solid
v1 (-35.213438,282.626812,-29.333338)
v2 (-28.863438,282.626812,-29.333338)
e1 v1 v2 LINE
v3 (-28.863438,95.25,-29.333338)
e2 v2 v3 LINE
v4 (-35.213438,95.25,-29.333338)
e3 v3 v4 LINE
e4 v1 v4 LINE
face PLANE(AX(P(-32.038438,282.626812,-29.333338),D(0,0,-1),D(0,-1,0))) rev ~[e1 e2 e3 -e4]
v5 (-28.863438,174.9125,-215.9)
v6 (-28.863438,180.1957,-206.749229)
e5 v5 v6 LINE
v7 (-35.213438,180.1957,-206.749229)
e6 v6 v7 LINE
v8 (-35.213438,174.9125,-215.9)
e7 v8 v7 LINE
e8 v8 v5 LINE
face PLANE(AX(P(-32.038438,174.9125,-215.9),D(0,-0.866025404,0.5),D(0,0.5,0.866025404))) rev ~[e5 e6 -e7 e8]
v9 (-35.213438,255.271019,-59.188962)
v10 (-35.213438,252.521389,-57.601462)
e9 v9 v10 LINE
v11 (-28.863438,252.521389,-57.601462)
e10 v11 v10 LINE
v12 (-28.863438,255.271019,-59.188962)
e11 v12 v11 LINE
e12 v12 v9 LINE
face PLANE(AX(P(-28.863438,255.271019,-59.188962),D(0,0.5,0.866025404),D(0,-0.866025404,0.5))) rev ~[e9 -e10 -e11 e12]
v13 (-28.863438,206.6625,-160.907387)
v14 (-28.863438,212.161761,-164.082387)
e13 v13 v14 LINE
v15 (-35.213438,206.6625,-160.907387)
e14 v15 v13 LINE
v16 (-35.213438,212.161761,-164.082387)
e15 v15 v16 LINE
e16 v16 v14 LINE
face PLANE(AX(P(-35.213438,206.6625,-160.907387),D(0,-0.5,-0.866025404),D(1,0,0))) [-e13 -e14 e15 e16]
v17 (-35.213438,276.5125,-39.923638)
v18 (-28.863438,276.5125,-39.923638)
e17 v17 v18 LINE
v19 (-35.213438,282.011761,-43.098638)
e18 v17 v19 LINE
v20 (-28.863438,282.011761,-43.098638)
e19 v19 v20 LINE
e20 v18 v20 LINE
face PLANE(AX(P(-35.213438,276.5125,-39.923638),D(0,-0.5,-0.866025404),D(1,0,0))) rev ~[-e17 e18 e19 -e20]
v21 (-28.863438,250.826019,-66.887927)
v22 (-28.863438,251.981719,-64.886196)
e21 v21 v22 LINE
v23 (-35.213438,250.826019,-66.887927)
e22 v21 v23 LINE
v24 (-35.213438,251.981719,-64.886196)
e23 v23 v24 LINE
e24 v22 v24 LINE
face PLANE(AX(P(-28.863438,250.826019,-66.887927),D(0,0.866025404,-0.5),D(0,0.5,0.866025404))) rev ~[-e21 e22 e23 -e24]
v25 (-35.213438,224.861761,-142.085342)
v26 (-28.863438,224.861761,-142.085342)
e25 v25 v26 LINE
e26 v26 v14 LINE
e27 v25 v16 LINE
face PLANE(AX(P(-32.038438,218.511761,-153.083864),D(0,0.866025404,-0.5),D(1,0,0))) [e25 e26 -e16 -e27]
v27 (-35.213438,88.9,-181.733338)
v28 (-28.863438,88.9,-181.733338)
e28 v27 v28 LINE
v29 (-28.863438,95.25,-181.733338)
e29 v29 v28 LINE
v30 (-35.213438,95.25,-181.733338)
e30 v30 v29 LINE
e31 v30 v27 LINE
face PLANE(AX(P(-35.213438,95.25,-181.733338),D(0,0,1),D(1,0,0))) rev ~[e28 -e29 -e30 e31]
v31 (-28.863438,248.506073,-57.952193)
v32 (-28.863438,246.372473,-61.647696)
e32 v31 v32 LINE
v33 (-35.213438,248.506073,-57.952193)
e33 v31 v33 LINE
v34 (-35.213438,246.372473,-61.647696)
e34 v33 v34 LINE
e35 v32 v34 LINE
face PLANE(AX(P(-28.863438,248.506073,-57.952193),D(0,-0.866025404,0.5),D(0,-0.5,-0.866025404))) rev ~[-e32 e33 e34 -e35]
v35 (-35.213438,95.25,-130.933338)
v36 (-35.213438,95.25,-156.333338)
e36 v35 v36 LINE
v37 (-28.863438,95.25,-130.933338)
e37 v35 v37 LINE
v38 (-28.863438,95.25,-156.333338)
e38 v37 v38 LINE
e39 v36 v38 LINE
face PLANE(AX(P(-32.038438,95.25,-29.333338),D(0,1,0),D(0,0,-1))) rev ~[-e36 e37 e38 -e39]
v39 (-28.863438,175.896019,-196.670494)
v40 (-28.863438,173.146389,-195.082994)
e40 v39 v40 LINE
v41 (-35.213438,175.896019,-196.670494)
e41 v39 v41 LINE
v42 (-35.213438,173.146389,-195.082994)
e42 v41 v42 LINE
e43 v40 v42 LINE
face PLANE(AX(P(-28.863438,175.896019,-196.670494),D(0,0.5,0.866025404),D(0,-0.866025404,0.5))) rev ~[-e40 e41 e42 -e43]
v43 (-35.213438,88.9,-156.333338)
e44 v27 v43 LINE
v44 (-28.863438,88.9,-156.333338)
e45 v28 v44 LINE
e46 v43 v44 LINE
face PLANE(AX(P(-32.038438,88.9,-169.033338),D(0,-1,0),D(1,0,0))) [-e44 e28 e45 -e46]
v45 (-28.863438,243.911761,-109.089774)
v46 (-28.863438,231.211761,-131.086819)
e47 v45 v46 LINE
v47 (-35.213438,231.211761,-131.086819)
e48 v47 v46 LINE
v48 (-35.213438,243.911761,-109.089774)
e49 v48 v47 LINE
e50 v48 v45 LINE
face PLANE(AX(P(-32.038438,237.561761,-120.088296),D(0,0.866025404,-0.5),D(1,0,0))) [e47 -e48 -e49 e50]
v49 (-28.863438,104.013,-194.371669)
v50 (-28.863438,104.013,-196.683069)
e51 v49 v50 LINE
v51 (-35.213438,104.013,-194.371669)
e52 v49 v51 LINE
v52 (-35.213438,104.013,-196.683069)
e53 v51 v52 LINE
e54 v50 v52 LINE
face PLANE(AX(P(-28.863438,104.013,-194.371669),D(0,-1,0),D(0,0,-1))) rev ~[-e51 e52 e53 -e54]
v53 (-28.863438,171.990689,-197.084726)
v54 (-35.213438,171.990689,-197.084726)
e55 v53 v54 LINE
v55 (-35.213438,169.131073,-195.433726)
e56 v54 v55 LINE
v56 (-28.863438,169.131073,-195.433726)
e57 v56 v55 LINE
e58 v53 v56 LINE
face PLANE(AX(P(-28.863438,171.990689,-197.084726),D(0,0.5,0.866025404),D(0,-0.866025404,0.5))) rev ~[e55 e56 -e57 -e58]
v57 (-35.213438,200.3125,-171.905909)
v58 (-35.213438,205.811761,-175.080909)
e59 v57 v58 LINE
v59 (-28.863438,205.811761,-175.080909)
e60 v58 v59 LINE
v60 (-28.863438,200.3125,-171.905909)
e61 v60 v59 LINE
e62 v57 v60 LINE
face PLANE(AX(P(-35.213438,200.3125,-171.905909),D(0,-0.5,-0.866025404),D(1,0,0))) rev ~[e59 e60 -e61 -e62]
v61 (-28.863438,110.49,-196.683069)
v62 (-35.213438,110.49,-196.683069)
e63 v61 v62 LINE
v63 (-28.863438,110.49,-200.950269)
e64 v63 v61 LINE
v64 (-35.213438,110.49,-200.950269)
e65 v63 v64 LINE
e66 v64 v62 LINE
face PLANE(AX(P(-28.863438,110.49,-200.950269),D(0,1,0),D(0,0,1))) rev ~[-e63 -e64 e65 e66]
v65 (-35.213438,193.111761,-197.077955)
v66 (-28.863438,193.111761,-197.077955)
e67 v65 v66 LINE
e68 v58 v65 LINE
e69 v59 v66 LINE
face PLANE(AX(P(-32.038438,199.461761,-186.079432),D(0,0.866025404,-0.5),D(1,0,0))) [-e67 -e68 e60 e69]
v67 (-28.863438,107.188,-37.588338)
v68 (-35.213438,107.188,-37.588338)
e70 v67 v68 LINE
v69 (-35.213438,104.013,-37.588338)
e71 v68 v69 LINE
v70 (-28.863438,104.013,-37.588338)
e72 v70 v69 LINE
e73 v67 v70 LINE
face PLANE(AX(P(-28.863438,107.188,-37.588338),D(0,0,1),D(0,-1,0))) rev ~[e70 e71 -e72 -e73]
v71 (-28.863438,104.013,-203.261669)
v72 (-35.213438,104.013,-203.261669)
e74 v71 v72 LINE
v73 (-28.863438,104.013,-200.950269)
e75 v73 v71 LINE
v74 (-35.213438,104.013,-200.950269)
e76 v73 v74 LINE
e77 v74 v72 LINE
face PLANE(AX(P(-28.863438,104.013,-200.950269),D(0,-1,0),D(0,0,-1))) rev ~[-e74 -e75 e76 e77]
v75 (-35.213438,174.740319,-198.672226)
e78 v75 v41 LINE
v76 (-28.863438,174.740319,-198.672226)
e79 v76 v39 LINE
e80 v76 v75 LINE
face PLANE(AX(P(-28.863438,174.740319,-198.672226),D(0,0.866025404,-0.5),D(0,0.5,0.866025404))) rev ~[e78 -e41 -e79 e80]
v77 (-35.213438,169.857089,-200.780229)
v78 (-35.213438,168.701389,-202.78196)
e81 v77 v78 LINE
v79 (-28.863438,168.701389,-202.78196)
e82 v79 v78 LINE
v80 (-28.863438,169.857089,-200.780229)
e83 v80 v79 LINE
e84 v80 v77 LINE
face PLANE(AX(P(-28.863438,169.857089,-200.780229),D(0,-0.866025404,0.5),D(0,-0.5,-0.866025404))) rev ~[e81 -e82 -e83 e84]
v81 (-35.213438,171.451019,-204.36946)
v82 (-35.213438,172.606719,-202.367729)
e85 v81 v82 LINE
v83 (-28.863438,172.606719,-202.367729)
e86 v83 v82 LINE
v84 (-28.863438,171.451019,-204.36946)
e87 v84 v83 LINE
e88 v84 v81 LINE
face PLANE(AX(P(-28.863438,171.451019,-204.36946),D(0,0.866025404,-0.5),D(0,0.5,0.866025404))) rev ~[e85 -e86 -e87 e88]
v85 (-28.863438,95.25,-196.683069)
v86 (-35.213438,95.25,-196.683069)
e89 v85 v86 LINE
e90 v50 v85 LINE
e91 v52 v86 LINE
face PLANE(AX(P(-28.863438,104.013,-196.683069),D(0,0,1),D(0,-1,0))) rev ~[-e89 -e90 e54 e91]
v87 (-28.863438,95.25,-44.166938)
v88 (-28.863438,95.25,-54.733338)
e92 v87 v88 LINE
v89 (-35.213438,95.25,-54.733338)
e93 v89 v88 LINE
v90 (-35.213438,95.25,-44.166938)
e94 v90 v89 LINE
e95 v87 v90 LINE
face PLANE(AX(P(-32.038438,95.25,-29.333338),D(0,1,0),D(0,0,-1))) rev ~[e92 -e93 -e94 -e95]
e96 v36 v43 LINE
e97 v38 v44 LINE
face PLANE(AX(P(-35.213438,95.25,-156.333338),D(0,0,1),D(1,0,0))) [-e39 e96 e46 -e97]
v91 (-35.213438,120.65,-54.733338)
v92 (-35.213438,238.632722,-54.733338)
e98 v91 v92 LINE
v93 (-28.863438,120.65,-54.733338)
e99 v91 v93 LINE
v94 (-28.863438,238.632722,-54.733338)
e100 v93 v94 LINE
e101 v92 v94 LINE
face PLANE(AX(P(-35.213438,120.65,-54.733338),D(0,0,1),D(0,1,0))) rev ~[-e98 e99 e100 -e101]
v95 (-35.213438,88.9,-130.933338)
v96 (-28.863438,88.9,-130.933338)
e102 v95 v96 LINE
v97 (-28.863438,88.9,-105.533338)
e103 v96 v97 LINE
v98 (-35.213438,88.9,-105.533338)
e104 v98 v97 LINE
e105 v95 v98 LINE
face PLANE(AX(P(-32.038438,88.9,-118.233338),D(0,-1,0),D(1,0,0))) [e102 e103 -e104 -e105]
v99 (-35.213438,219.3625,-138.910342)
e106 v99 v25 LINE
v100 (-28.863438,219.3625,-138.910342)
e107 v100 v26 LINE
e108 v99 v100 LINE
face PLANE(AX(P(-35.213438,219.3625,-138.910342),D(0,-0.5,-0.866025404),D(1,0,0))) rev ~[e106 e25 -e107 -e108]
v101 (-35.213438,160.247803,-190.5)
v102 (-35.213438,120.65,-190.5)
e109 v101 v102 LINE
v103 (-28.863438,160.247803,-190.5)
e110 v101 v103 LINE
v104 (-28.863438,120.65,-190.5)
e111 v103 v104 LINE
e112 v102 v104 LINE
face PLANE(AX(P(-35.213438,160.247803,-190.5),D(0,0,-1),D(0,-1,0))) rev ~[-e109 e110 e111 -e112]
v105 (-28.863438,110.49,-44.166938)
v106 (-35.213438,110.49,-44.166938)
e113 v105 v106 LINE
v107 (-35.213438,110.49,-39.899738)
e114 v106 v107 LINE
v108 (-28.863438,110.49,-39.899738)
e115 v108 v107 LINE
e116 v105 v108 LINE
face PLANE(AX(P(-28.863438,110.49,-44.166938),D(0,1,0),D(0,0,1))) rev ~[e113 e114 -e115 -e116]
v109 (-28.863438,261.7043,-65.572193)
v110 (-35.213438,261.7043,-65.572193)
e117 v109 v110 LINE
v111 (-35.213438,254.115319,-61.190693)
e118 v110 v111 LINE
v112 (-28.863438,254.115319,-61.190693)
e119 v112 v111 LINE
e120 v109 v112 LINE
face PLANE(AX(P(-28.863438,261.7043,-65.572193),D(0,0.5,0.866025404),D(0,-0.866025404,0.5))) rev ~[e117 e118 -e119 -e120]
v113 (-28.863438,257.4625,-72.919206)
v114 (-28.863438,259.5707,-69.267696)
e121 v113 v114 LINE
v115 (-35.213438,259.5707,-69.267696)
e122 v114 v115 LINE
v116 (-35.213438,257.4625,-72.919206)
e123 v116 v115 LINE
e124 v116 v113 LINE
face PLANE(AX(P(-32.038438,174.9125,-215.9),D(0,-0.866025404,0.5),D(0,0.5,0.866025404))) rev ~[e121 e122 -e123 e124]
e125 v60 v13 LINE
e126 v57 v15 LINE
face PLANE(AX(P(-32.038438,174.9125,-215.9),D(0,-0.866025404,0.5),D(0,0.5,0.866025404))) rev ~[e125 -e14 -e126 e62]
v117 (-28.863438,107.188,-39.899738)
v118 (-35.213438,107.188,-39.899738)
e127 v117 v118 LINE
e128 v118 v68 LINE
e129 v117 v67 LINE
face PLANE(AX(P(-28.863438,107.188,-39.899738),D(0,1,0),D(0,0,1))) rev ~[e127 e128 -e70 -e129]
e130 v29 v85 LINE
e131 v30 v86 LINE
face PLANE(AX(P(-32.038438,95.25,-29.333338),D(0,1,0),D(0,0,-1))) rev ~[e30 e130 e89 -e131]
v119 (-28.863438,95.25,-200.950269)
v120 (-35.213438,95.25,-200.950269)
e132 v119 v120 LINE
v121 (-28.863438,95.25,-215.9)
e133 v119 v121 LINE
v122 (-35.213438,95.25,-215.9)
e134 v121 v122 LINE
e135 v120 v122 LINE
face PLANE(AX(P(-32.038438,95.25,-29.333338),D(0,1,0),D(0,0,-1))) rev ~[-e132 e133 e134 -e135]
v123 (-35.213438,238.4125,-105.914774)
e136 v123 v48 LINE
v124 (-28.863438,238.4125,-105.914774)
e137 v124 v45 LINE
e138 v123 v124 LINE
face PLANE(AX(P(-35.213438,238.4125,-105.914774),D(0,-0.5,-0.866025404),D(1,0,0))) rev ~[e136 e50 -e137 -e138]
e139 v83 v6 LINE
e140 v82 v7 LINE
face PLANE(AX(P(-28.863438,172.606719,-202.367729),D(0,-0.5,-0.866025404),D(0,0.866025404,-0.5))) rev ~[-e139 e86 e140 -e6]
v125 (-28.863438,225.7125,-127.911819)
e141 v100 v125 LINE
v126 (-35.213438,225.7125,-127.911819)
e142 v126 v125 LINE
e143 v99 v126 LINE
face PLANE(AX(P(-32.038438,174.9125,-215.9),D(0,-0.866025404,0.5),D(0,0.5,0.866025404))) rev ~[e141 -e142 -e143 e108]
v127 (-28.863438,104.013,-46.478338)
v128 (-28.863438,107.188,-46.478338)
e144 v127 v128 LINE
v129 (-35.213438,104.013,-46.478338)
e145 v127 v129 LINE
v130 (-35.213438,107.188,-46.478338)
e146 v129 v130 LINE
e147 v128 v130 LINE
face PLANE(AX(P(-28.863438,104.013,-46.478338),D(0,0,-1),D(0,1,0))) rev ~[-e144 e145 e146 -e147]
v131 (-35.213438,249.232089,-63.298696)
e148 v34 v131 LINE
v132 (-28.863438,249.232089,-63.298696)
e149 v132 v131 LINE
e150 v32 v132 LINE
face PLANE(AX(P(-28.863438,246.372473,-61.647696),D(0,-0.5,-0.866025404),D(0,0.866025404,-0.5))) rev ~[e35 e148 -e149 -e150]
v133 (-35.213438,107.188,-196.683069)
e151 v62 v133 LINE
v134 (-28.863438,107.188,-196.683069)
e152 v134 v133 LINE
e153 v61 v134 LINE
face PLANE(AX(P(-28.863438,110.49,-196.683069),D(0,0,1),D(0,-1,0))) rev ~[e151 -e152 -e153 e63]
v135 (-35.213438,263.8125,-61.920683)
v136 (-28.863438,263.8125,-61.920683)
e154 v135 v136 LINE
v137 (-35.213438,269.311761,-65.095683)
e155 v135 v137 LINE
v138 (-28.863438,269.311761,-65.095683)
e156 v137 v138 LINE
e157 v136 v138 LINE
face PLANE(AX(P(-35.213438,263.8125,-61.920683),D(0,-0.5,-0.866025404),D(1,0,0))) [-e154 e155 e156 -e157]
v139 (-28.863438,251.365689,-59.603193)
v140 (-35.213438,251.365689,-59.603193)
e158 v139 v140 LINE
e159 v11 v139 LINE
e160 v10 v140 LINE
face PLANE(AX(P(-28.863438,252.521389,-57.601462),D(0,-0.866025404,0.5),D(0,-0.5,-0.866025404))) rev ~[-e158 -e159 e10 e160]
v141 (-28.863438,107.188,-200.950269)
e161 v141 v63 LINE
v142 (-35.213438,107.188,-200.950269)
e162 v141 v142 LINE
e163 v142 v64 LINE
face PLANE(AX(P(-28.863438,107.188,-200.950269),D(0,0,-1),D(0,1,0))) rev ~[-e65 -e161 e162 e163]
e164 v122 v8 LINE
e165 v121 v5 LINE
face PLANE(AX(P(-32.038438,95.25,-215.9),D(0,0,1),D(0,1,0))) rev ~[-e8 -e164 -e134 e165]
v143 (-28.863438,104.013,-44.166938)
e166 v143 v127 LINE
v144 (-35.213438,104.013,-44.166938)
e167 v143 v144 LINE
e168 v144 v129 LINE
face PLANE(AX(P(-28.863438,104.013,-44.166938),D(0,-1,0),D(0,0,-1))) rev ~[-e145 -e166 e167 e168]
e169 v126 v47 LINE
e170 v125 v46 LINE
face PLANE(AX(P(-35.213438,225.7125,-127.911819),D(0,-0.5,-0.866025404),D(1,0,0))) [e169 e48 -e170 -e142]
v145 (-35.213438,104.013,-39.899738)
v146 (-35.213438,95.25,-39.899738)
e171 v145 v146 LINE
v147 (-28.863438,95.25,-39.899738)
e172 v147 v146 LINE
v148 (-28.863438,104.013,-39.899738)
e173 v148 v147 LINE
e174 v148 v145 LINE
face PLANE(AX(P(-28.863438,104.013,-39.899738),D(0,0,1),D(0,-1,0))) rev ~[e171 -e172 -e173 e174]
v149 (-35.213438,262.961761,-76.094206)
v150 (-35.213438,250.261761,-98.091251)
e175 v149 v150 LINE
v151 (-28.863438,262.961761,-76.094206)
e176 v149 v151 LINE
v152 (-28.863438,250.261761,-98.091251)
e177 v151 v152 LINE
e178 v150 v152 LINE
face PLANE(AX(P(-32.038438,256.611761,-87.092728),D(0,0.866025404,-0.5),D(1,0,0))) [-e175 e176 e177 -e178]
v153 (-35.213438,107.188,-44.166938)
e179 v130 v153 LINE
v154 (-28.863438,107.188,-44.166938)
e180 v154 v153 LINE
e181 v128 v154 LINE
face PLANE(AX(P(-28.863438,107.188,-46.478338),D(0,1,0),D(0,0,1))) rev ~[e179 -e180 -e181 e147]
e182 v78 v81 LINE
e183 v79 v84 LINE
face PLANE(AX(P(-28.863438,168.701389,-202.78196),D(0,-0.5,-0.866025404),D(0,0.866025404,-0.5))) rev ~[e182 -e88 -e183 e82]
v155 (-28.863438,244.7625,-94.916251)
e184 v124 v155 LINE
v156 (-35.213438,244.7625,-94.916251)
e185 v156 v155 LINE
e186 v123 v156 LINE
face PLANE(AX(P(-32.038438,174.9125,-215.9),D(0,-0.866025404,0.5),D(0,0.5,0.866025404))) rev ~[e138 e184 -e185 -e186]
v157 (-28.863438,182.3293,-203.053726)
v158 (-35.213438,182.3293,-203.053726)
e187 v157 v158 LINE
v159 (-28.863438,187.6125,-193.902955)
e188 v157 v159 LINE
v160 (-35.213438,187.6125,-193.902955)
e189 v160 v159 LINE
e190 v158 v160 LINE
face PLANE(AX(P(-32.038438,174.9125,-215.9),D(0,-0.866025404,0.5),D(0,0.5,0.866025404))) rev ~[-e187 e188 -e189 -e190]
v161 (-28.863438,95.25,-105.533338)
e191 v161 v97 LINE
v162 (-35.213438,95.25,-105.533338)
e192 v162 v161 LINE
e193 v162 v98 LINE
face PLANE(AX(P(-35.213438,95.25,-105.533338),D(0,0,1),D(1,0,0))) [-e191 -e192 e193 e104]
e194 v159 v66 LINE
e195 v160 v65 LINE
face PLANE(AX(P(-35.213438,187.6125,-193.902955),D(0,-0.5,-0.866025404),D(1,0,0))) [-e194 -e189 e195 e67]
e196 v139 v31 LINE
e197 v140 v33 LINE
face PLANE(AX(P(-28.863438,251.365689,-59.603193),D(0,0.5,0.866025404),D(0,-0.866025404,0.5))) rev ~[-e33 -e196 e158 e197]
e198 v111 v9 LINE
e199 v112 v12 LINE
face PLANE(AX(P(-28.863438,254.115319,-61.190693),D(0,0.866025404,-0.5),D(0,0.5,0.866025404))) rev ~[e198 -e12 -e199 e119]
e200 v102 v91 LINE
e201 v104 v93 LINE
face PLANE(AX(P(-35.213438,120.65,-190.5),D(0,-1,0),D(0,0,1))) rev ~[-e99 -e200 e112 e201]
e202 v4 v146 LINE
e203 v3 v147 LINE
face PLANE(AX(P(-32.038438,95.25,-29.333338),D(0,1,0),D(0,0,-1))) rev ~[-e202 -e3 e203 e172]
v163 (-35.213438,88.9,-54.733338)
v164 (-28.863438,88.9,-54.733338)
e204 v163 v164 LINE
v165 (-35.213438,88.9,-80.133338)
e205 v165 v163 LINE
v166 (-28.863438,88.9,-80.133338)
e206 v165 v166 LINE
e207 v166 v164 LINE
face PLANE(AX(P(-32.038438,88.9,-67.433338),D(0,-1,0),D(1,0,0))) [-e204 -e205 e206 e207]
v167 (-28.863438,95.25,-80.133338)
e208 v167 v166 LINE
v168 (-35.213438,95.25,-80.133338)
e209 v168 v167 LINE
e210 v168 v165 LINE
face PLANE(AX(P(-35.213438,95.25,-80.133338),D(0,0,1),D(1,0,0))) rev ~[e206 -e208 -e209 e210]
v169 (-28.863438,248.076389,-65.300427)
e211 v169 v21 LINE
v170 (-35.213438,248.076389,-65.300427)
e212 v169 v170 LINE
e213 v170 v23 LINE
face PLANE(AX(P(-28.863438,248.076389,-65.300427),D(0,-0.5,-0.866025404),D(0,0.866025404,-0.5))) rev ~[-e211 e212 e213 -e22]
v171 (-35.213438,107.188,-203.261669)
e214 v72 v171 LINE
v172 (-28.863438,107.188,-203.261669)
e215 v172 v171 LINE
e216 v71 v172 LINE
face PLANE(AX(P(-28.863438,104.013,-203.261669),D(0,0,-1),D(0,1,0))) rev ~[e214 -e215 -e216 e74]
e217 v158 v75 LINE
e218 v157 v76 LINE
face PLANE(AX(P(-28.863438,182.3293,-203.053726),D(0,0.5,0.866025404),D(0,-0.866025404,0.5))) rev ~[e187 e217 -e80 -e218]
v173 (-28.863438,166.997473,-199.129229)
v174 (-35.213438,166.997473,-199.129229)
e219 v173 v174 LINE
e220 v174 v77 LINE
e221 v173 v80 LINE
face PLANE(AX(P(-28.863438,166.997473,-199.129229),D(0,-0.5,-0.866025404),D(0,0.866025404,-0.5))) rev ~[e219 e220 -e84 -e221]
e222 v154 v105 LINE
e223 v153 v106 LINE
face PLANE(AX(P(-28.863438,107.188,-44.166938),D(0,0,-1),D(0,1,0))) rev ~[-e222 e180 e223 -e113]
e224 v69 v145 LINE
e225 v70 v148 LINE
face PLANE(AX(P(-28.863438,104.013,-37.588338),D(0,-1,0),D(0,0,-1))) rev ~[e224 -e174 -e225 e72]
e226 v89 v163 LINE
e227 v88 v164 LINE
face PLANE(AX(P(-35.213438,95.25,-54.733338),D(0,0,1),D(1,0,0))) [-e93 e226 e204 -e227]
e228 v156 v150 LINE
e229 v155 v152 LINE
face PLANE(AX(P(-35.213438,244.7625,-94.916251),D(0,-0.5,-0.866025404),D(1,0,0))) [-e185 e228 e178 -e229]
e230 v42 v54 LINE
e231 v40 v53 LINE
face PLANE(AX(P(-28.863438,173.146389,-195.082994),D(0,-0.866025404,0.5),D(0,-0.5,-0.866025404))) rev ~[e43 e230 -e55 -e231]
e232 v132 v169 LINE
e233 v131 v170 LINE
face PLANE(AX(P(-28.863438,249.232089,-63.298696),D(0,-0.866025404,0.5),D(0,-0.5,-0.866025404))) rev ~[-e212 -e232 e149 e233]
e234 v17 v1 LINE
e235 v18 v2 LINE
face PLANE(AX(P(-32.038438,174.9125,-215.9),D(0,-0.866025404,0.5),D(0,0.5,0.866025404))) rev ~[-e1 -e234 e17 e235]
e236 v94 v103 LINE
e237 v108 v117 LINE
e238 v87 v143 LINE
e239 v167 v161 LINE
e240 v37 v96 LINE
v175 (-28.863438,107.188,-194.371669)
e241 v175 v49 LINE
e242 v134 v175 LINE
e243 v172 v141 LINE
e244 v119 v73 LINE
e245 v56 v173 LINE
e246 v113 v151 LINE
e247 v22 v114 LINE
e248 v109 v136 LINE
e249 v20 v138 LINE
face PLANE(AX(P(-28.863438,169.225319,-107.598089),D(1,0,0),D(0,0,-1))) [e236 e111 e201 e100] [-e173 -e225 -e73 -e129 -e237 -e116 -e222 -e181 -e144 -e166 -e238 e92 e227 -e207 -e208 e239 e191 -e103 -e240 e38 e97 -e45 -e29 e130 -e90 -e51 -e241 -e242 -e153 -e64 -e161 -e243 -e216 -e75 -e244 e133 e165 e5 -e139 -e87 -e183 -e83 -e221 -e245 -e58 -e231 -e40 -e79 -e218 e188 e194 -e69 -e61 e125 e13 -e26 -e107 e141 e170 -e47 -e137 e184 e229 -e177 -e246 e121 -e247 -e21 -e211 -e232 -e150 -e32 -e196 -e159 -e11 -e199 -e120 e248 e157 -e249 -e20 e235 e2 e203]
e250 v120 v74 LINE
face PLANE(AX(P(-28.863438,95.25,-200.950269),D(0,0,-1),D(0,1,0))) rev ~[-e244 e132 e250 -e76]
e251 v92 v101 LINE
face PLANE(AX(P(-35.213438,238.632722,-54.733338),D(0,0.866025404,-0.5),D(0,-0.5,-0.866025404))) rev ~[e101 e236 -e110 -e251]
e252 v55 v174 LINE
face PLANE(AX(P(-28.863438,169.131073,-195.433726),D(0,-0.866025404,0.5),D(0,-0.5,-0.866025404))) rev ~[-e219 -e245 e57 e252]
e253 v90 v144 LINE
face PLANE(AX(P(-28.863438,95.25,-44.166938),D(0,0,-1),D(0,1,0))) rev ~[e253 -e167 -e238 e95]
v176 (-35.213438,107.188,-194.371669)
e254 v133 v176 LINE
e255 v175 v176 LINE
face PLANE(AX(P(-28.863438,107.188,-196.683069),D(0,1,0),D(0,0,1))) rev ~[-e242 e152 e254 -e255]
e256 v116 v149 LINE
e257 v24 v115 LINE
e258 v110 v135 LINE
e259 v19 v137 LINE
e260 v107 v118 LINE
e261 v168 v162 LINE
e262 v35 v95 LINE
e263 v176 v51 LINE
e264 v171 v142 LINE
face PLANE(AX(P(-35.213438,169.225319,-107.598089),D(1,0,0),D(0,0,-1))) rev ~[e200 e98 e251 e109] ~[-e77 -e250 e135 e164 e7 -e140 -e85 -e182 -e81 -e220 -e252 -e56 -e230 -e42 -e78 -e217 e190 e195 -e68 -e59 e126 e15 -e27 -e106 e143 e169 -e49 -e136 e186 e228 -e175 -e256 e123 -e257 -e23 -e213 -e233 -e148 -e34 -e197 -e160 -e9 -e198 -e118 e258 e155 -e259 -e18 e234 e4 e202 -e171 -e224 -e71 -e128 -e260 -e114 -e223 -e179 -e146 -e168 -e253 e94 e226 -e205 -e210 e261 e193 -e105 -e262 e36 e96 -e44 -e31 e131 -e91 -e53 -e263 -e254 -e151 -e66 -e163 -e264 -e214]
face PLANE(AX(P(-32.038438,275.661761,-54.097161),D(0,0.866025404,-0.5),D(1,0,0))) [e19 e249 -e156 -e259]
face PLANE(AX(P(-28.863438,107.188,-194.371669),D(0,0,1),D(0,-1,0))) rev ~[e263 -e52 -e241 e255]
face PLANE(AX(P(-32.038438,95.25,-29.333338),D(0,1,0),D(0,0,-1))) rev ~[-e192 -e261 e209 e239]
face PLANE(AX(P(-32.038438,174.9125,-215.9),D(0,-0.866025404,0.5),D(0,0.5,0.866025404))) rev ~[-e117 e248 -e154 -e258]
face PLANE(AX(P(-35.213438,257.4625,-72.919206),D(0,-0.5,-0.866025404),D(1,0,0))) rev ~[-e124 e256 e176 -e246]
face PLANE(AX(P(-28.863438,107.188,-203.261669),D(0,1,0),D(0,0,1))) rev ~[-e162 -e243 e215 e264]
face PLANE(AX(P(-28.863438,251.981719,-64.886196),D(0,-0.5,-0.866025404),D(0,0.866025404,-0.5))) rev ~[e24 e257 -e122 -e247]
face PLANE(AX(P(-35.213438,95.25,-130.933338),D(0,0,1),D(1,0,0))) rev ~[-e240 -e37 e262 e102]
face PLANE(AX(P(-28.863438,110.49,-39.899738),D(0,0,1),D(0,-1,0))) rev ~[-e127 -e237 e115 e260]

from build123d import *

# Parameters (mm, degrees)
BOSS_EXTRUDE1_DEPTH = 3.175
CUT_EXTRUDE1_DEPTH  = 6.35
SKETCH3_W           = 6.35
SKETCH3_H           = 25.4
BOSS_EXTRUDE2_DEPTH = 6.35
LPATTERN1_COUNT     = 5
LPATTERN1_PITCH     = 38.1
SKETCH4_W           = 6.35
SKETCH4_H           = 25.4
BOSS_EXTRUDE3_DEPTH = 6.35
LPATTERN2_COUNT     = 3
LPATTERN2_PITCH     = 50.8
CUT_EXTRUDE2_DEPTH  = 6.35
CUT_EXTRUDE3_DEPTH  = 6.35


with BuildPart() as part:
    # Sketch1 → Boss-Extrude1 (new, symmetric)
    with BuildSketch(Plane.ZY.offset(32.038437852)):
        Polygon((-215.9, 95.25), (-215.9, 174.9125), (-29.333338138, 282.626812448), (-29.333338138, 95.25), align=None)
    extrude(amount=BOSS_EXTRUDE1_DEPTH, both=True)

    # Sketch2 → Cut-Extrude1 (cut)
    with BuildSketch(Plane.ZY.offset(35.213437852)):
        Polygon((-190.5, 160.247803163), (-190.5, 120.65), (-54.733338138, 120.65), (-54.733338138, 238.632721936), align=None)
    extrude(amount=-CUT_EXTRUDE1_DEPTH, mode=Mode.SUBTRACT)

    # Sketch3 → Boss-Extrude2 (add)
    with BuildSketch(Plane(origin=(0, 224.671817339, -129.71433422), x_dir=(1, 0, 0), z_dir=(0, 0.8660254037844386, -0.5000000000000001))):
        with Locations((-32.038437852, 61.418634677)):
            Rectangle(SKETCH3_W, SKETCH3_H)
    boss_extrude2 = extrude(amount=BOSS_EXTRUDE2_DEPTH)

    # LPattern1: Boss-Extrude2 ×5
    with Locations(*[Vector(1.0927391974657063e-15, 0.5000000000000003, 0.8660254037844386) * (i * LPATTERN1_PITCH) for i in range(1, LPATTERN1_COUNT)]):
        add(boss_extrude2)

    # Sketch4 → Boss-Extrude3 (add)
    with BuildSketch(Plane.XZ.offset(-95.25)):
        with Locations((-32.038437852, -67.433338138)):
            Rectangle(SKETCH4_W, SKETCH4_H)
    boss_extrude3 = extrude(amount=BOSS_EXTRUDE3_DEPTH)

    # LPattern2: Boss-Extrude3 ×3
    with Locations(*[(0, 0, -i * LPATTERN2_PITCH) for i in range(1, LPATTERN2_COUNT)]):
        add(boss_extrude3)

    # Sketch5 → Cut-Extrude2 (cut)
    with BuildSketch(Plane(origin=(-28.863437852, 0, 0), x_dir=(0, 0, -1), z_dir=(1, 0, 0))):
        Polygon((196.683069069, 95.25), (200.950269069, 95.25), (200.950269069, 104.013), (203.261669069, 104.013), (203.261669069, 107.188), (200.950269069, 107.188), (200.950269069, 110.49), (196.683069069, 110.49), (196.683069069, 107.188), (194.371669069, 107.188), (194.371669069, 104.013), (196.683069069, 104.013), align=None)
        Polygon((39.899738138, 95.25), (44.166938138, 95.25), (44.166938138, 104.013), (46.478338138, 104.013), (46.478338138, 107.188), (44.166938138, 107.188), (44.166938138, 110.49), (39.899738138, 110.49), (39.899738138, 107.188), (37.588338138, 107.188), (37.588338138, 104.013), (39.899738138, 104.013), align=None)
    extrude(amount=-CUT_EXTRUDE2_DEPTH, mode=Mode.SUBTRACT)

    # Sketch6 → Cut-Extrude3 (cut)
    with BuildSketch(Plane(origin=(-28.863437852, 0, 0), x_dir=(0, 0, -1), z_dir=(1, 0, 0))):
        Polygon((206.749229173, 180.1957), (203.05372557, 182.3293), (198.67222557, 174.740319387), (196.670494452, 175.896019387), (195.082994452, 173.14638873), (197.08472557, 171.99068873), (195.43372557, 169.131072846), (199.129229173, 166.997472846), (200.780229173, 169.85708873), (202.781960292, 168.70138873), (204.369460292, 171.451019387), (202.367729173, 172.606719387), align=None)
        Polygon((69.267696323, 259.5707), (65.57219272, 261.7043), (61.19069272, 254.115319387), (59.188961601, 255.271019387), (57.601461601, 252.52138873), (59.60319272, 251.36568873), (57.95219272, 248.506072846), (61.647696323, 246.372472846), (63.298696323, 249.23208873), (65.300427441, 248.07638873), (66.887927441, 250.826019387), (64.886196323, 251.981719387), align=None)
    extrude(amount=-CUT_EXTRUDE3_DEPTH, mode=Mode.SUBTRACT)


solid = part.part
